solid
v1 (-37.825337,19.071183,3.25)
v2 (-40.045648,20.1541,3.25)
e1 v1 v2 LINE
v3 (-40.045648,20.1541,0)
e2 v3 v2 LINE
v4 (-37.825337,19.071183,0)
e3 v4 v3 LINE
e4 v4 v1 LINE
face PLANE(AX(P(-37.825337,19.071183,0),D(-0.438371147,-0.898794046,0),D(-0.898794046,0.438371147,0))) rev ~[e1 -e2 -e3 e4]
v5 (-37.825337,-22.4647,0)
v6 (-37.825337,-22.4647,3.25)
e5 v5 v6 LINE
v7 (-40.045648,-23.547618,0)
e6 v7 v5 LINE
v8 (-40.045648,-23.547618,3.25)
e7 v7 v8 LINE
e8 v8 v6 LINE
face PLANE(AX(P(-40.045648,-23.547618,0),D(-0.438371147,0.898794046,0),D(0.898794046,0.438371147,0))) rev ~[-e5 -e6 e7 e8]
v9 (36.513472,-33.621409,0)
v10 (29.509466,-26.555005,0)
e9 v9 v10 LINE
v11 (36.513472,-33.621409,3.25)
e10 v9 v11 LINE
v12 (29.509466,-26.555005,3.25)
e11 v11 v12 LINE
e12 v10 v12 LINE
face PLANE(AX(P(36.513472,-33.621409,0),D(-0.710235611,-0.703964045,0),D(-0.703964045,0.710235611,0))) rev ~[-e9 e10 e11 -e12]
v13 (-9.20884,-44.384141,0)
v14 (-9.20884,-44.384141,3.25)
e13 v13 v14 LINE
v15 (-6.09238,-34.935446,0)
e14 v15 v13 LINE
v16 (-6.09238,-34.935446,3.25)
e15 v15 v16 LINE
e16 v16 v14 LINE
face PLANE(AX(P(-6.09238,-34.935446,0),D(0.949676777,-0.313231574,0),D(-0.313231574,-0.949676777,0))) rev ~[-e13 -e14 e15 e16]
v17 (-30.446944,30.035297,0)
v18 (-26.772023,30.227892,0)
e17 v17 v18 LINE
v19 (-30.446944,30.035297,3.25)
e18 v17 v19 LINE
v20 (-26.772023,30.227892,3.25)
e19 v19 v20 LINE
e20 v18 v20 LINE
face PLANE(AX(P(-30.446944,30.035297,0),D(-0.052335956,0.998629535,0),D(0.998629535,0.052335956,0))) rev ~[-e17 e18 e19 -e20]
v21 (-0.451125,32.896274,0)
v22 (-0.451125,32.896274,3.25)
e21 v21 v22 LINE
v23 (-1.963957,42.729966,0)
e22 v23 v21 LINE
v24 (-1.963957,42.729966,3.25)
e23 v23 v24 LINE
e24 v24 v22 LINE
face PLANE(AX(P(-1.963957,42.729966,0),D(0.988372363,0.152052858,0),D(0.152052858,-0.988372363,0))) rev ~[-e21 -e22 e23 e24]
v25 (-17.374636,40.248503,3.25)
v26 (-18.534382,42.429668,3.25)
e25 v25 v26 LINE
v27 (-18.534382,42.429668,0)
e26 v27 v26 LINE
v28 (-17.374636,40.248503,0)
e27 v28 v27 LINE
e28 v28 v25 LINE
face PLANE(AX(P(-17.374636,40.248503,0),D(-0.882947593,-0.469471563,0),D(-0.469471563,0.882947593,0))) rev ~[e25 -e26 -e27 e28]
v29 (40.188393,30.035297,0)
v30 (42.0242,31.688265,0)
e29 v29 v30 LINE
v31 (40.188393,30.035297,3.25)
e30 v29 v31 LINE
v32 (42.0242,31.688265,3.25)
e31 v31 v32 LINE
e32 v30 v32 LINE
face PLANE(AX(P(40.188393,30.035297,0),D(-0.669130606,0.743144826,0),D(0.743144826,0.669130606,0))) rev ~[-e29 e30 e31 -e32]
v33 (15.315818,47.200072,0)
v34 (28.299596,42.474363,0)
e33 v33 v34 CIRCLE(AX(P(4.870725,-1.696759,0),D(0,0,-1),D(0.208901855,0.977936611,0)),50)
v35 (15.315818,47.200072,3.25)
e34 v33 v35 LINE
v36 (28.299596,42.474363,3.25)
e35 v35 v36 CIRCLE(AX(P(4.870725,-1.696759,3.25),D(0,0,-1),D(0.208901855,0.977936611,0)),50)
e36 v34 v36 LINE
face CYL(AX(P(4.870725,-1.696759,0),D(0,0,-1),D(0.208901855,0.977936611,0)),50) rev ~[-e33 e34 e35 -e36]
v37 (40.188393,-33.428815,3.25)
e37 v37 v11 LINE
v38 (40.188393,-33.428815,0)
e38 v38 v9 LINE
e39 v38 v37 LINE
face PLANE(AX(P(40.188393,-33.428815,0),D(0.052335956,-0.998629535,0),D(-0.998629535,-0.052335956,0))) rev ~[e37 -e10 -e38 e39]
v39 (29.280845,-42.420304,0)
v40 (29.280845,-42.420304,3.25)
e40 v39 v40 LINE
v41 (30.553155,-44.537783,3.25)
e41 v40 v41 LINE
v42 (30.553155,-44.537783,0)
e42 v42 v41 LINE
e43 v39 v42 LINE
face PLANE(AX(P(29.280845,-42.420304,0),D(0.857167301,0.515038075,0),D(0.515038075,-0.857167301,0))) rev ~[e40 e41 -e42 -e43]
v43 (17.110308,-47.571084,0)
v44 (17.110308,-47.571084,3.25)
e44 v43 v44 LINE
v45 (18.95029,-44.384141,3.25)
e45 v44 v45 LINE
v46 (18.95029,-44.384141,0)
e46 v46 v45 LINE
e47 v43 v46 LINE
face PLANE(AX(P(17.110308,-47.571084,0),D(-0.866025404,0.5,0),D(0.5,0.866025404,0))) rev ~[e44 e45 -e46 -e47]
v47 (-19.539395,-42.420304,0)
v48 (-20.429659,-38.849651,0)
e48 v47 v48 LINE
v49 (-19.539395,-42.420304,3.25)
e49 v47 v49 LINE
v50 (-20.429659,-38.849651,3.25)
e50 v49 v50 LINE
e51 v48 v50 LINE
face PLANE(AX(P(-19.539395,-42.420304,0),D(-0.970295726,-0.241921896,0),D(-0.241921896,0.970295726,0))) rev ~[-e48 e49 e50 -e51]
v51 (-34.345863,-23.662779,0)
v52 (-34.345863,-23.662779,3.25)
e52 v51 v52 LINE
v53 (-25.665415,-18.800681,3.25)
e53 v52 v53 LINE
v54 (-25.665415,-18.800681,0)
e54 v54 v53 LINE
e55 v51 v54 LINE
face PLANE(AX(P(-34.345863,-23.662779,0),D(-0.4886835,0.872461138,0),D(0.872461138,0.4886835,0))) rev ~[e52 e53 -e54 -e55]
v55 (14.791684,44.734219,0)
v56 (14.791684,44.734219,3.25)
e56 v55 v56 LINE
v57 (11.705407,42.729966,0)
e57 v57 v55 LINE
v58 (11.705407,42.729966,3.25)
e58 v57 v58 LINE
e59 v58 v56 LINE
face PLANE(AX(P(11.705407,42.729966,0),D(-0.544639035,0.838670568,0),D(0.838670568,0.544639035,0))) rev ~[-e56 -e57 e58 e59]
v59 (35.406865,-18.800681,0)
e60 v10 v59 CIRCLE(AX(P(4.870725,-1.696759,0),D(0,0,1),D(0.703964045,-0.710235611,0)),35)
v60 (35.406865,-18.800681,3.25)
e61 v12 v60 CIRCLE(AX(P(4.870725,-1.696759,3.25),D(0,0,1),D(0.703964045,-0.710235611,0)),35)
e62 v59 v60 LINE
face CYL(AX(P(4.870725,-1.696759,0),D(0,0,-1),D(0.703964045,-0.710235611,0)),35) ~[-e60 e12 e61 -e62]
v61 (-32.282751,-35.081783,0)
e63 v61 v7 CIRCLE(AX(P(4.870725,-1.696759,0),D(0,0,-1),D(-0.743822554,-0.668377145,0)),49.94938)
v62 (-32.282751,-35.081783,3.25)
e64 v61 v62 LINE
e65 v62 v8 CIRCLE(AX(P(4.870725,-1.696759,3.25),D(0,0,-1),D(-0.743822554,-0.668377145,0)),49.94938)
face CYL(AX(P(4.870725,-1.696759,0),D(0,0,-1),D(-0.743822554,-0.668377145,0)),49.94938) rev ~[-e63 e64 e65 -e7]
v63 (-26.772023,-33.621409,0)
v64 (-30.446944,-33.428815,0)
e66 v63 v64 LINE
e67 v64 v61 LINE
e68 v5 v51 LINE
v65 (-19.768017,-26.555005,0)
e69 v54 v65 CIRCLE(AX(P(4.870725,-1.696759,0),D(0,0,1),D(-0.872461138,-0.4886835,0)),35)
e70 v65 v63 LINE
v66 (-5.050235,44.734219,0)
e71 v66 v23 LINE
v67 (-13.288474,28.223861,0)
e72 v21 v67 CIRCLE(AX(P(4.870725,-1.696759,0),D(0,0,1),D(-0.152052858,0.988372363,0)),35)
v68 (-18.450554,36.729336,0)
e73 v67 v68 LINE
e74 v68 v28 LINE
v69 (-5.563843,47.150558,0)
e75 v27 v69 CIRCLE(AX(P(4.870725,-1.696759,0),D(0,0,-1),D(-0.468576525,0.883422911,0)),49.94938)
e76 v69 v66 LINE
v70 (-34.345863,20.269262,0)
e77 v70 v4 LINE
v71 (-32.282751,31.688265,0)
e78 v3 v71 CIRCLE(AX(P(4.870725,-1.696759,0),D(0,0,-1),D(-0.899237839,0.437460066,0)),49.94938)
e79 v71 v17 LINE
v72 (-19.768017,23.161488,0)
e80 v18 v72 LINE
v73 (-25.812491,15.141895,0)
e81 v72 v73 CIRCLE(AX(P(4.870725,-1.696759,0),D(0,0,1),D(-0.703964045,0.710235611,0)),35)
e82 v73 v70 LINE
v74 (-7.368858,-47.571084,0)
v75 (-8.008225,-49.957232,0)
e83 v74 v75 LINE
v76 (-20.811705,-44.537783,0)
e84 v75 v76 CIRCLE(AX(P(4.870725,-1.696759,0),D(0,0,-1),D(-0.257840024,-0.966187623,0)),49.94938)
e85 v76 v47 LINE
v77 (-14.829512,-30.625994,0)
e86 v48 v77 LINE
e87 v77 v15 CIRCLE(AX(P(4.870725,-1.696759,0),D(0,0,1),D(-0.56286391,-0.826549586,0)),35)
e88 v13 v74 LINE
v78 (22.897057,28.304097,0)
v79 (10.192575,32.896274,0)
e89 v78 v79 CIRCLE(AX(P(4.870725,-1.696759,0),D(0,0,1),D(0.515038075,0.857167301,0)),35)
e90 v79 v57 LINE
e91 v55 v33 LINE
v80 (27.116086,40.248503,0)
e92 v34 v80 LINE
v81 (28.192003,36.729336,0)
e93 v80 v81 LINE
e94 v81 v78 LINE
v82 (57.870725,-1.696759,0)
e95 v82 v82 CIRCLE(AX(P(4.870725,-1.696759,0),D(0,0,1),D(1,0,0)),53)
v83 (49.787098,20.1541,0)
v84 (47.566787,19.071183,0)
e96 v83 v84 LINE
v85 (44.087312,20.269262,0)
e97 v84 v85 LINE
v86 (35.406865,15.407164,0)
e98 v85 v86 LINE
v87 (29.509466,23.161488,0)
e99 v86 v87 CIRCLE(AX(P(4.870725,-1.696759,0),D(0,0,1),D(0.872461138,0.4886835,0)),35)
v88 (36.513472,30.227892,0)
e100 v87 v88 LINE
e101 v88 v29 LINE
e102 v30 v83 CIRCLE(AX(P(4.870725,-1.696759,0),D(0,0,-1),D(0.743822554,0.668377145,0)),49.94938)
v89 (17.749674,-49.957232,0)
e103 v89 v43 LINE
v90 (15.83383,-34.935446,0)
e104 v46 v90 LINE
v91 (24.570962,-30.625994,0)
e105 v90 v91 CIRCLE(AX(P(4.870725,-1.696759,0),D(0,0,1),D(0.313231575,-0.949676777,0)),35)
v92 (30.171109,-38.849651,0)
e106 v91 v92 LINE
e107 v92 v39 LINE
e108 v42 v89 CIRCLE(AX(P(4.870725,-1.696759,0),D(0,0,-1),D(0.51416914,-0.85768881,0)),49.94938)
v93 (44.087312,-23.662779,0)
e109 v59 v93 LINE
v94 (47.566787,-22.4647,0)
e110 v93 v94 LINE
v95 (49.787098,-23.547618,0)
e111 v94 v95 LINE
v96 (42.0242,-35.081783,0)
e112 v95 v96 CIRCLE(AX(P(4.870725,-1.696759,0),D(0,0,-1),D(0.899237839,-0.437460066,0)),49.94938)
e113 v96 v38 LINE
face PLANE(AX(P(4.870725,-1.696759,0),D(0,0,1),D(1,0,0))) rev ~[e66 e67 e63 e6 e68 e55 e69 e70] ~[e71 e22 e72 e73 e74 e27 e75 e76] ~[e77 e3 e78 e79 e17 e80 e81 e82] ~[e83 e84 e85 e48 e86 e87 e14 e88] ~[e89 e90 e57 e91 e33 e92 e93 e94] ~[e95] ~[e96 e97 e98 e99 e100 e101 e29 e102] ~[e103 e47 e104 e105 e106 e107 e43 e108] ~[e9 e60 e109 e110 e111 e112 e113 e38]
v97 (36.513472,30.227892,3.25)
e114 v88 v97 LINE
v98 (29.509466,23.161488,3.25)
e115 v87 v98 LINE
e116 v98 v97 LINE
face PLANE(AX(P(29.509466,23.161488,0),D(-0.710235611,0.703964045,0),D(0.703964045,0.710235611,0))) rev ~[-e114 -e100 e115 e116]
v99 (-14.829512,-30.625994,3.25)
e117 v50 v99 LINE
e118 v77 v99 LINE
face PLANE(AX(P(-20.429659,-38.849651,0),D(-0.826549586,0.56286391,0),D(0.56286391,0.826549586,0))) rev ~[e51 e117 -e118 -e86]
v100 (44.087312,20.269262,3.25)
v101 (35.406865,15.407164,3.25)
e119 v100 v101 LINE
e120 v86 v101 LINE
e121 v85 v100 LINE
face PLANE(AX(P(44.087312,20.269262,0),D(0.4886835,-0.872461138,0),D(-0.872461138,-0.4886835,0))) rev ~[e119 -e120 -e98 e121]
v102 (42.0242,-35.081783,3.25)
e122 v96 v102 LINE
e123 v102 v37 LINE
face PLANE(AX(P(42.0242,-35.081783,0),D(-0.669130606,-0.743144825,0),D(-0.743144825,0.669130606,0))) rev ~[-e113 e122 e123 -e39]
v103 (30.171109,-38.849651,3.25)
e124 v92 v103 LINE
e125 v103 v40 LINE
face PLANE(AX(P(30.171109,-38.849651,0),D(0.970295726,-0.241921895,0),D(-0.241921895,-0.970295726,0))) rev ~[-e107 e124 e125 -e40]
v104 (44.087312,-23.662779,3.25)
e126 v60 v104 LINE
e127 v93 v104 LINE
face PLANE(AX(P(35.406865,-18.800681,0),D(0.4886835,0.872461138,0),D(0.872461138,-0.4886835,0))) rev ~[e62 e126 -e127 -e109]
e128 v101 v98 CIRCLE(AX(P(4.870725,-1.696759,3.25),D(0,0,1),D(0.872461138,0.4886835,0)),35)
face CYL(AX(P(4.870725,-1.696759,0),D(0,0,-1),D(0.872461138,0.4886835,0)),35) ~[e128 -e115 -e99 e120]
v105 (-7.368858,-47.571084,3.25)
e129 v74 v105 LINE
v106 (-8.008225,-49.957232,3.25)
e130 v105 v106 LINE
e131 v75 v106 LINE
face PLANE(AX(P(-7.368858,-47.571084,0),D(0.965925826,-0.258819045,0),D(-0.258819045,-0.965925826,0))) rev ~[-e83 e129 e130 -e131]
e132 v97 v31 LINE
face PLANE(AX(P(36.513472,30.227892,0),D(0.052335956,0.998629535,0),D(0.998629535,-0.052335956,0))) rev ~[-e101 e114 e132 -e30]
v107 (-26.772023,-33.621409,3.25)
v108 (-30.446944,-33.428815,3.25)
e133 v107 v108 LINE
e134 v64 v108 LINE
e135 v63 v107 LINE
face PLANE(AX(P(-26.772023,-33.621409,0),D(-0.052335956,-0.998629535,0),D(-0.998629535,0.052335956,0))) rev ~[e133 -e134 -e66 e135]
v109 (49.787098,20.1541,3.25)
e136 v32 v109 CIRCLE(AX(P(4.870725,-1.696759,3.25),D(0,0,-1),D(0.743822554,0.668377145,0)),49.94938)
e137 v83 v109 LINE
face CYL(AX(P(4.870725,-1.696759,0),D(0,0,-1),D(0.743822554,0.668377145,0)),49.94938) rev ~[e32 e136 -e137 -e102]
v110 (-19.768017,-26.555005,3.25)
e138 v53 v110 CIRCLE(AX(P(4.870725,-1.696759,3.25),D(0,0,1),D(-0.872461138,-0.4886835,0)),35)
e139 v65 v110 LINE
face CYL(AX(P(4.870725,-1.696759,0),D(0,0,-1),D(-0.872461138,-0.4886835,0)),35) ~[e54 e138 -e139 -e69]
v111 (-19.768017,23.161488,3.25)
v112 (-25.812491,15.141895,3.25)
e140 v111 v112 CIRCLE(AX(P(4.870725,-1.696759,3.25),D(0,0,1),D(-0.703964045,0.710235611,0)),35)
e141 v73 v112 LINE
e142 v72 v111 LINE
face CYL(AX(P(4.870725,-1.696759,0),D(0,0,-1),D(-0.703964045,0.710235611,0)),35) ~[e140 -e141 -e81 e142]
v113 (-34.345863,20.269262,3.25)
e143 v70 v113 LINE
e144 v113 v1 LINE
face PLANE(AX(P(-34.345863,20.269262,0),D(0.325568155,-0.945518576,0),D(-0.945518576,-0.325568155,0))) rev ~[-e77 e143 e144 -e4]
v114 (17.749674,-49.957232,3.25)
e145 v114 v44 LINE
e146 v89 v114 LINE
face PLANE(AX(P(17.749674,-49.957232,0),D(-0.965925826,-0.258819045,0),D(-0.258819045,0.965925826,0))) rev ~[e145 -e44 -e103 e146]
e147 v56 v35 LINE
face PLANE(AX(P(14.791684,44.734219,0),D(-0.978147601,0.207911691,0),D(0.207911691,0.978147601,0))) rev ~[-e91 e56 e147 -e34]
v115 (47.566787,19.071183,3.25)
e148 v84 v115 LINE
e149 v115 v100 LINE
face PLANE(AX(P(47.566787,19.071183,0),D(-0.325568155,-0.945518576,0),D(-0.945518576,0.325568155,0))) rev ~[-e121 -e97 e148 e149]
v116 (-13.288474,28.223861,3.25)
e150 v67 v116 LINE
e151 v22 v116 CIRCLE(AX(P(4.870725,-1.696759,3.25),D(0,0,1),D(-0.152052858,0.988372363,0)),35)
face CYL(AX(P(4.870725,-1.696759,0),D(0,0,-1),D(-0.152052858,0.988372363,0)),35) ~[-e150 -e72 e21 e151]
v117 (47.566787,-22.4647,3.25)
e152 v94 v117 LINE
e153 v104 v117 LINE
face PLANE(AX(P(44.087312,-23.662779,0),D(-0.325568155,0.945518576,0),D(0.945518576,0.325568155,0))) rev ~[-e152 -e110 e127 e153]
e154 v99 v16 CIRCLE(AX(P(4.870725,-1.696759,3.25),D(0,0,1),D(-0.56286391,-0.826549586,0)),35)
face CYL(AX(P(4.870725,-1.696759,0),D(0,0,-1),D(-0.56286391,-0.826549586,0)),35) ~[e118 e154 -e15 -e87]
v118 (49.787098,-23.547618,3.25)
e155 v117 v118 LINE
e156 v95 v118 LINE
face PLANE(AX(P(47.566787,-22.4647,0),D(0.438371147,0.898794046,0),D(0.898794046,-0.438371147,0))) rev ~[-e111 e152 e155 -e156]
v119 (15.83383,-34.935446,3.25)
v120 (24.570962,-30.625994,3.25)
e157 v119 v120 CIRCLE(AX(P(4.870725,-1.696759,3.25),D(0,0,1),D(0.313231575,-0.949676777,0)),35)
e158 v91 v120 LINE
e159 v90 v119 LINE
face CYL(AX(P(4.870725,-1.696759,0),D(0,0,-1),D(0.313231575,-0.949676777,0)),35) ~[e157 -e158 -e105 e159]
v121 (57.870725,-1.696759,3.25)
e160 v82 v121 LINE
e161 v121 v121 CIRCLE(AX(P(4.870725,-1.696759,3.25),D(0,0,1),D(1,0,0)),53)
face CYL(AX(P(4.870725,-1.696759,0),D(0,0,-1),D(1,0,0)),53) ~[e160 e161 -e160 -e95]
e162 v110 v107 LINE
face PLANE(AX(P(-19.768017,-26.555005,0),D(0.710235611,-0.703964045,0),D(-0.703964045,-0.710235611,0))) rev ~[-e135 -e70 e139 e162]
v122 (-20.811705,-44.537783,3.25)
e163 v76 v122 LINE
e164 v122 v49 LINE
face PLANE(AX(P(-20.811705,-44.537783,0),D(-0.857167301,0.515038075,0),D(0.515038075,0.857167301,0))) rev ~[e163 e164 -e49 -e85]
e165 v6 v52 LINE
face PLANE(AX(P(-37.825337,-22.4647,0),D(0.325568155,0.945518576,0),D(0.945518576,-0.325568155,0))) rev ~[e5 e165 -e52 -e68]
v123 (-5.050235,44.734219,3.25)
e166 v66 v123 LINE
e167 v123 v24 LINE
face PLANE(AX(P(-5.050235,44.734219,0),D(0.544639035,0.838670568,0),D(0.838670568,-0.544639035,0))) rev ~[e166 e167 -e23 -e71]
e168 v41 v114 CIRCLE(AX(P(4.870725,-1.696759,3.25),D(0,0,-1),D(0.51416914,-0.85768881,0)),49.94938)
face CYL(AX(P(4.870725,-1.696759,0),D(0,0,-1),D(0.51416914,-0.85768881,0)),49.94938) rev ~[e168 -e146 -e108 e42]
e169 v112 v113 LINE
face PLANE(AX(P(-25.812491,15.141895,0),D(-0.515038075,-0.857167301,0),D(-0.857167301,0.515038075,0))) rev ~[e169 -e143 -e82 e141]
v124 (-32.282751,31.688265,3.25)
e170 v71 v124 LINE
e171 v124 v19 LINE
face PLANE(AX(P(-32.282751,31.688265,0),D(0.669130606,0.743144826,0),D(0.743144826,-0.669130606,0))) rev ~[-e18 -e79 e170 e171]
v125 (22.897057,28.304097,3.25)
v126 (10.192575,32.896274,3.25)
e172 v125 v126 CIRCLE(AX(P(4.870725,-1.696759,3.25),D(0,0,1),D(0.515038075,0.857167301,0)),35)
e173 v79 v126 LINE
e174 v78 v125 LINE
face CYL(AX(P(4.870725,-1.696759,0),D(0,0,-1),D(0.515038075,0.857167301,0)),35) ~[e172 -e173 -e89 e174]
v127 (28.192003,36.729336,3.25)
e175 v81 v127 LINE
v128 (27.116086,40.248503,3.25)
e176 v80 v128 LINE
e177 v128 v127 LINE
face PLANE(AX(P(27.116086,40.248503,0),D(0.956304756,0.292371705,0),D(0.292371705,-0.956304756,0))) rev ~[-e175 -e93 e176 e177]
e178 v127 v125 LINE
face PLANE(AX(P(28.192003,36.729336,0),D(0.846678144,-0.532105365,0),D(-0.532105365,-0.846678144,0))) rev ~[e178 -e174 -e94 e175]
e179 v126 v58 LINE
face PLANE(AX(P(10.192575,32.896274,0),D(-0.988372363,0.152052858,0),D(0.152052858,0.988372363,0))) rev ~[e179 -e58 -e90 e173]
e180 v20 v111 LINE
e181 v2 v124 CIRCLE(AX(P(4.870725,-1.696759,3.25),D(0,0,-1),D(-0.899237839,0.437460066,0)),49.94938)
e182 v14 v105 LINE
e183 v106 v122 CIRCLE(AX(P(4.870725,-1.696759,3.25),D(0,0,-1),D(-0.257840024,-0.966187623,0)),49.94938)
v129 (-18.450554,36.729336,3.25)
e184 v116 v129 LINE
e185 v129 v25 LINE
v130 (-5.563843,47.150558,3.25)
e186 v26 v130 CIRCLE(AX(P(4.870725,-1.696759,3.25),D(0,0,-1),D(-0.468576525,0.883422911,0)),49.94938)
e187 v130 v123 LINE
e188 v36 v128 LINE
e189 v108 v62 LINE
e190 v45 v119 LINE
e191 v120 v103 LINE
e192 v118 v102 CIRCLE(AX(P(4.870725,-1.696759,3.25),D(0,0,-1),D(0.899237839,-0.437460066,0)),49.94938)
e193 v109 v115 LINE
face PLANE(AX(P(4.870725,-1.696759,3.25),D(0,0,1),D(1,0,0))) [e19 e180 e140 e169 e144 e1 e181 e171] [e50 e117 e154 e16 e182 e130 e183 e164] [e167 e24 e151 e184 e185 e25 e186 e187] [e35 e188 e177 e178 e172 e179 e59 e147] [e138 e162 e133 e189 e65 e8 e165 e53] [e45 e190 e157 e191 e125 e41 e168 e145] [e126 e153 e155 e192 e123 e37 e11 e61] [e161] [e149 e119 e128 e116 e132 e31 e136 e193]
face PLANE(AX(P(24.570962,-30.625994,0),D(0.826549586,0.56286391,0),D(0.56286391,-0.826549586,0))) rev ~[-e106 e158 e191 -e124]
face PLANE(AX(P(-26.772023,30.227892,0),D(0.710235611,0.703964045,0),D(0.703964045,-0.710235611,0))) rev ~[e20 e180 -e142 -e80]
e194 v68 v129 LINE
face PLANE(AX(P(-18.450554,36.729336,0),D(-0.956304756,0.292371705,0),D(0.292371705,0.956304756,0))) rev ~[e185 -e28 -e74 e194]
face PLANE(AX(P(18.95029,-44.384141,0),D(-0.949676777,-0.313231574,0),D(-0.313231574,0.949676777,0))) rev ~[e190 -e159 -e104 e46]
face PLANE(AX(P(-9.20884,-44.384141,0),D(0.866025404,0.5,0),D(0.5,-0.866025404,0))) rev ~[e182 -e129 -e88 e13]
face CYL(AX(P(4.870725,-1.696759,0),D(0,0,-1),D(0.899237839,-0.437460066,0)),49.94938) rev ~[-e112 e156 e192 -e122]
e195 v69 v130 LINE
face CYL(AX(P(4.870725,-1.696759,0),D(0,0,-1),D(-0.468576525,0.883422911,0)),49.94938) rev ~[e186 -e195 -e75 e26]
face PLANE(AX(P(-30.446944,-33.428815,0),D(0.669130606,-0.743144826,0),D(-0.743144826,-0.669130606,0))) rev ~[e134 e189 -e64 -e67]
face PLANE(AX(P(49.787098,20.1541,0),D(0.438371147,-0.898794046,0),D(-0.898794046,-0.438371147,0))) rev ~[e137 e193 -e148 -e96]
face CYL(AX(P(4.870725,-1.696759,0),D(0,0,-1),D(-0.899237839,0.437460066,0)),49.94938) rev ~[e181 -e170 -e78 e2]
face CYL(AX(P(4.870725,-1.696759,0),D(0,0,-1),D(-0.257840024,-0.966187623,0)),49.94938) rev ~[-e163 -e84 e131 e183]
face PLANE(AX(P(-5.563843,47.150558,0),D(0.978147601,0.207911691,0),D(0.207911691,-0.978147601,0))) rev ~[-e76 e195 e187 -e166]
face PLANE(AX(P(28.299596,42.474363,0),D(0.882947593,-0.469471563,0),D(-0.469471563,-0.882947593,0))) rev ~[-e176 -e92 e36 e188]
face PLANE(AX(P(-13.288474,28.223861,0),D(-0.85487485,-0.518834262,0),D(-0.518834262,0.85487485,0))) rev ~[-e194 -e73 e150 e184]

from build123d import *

# Parameters (mm, degrees)
SKETCH1_R           = 53
BOSS_EXTRUDE2_DEPTH = 3.25


with BuildPart() as part:
    # Sketch1 → Boss-Extrude2 (new body)
    with BuildSketch(Plane.XY):
        with Locations((4.870724861, -1.696758811)):
            Circle(SKETCH1_R)
        with BuildLine():
            Line((47.566786932, -22.464700122), (49.787097659, -23.547618021))
            ThreePointArc((49.787097659, -23.547618021), (46.308922772, -29.586117847), (42.024200497, -35.081783024))
            Line((42.024200497, -35.081783024), (40.188393468, -33.42881495))
            Line((40.188393468, -33.42881495), (36.513472454, -33.621409399))
            Line((36.513472454, -33.621409399), (29.509466442, -26.555005195))
            ThreePointArc((29.509466442, -26.555005195), (32.729283137, -22.88403638), (35.406864683, -18.800681308))
            Line((35.406864683, -18.800681308), (44.08731235, -23.662779301))
            Line((44.08731235, -23.662779301), (47.566786932, -22.464700122))
        make_face(mode=Mode.SUBTRACT)
        with BuildLine():
            Line((47.566786932, 19.071182501), (44.08731235, 20.26926168))
            Line((44.08731235, 20.26926168), (35.406864683, 15.407163687))
            ThreePointArc((35.406864683, 15.407163687), (32.729283137, 19.490518759), (29.509466442, 23.161487574))
            Line((29.509466442, 23.161487574), (36.513472454, 30.227891778))
            Line((36.513472454, 30.227891778), (40.188393468, 30.035297329))
            Line((40.188393468, 30.035297329), (42.024200497, 31.688265402))
            ThreePointArc((42.024200497, 31.688265402), (46.308922772, 26.192600226), (49.787097659, 20.1541004))
            Line((49.787097659, 20.1541004), (47.566786932, 19.071182501))
        make_face(mode=Mode.SUBTRACT)
        with BuildLine():
            Line((28.299596439, 42.474362712), (27.116085982, 40.248503273))
            Line((27.116085982, 40.248503273), (28.192003411, 36.729335933))
            Line((28.192003411, 36.729335933), (22.897057483, 28.304096714))
            ThreePointArc((22.897057483, 28.304096714), (16.768473858, 31.218945174), (10.192574898, 32.896273901))
            Line((10.192574898, 32.896273901), (11.705406612, 42.729966432))
            Line((11.705406612, 42.729966432), (14.791684342, 44.734218625))
            Line((14.791684342, 44.734218625), (15.315817601, 47.200071738))
            ThreePointArc((15.315817601, 47.200071738), (21.971732028, 45.287872229), (28.299596439, 42.474362712))
        make_face(mode=Mode.SUBTRACT)
        with BuildLine():
            ThreePointArc((-18.5343822, 42.429668157), (-12.212969352, 45.240305281), (-5.563843448, 47.150558185))
            Line((-5.563843448, 47.150558185), (-5.05023462, 44.734218625))
            Line((-5.05023462, 44.734218625), (-1.963956889, 42.729966432))
            Line((-1.963956889, 42.729966432), (-0.451125175, 32.896273901))
            ThreePointArc((-0.451125175, 32.896273901), (-7.099980155, 31.192482917), (-13.288474299, 28.223860933))
            Line((-13.288474299, 28.223860933), (-18.450553688, 36.729335933))
            Line((-18.450553688, 36.729335933), (-17.374636259, 40.248503273))
            Line((-17.374636259, 40.248503273), (-18.5343822, 42.429668157))
        make_face(mode=Mode.SUBTRACT)
        with BuildLine():
            ThreePointArc((-40.045647936, 20.1541004), (-36.567473049, 26.192600226), (-32.282750775, 31.688265402))
            Line((-32.282750775, 31.688265402), (-30.446943745, 30.035297329))
            Line((-30.446943745, 30.035297329), (-26.772022731, 30.227891778))
            Line((-26.772022731, 30.227891778), (-19.76801672, 23.161487574))
            ThreePointArc((-19.76801672, 23.161487574), (-23.079377371, 19.369607397), (-25.812491143, 15.141894807))
            Line((-25.812491143, 15.141894807), (-34.345862627, 20.26926168))
            Line((-34.345862627, 20.26926168), (-37.825337209, 19.071182501))
            Line((-37.825337209, 19.071182501), (-40.045647936, 20.1541004))
        make_face(mode=Mode.SUBTRACT)
        with BuildLine():
            ThreePointArc((-32.282750775, -35.081783024), (-36.567473049, -29.586117847), (-40.045647936, -23.547618021))
            Line((-40.045647936, -23.547618021), (-37.825337209, -22.464700122))
            Line((-37.825337209, -22.464700122), (-34.345862627, -23.662779301))
            Line((-34.345862627, -23.662779301), (-25.66541496, -18.800681308))
            ThreePointArc((-25.66541496, -18.800681308), (-22.987833414, -22.88403638), (-19.76801672, -26.555005195))
            Line((-19.76801672, -26.555005195), (-26.772022731, -33.621409399))
            Line((-26.772022731, -33.621409399), (-30.446943745, -33.42881495))
            Line((-30.446943745, -33.42881495), (-32.282750775, -35.081783024))
        make_face(mode=Mode.SUBTRACT)
        with BuildLine():
            ThreePointArc((-8.008224552, -49.957231825), (-14.599447184, -47.695160892), (-20.811705065, -44.537783385))
            Line((-20.811705065, -44.537783385), (-19.539395166, -42.420304124))
            Line((-19.539395166, -42.420304124), (-20.4296591, -38.849650513))
            Line((-20.4296591, -38.849650513), (-14.829511994, -30.625994332))
            ThreePointArc((-14.829511994, -30.625994332), (-10.611619227, -33.086200053), (-6.092380244, -34.935446006))
            Line((-6.092380244, -34.935446006), (-9.208840303, -44.384141433))
            Line((-9.208840303, -44.384141433), (-7.368858164, -47.571083983))
            Line((-7.368858164, -47.571083983), (-8.008224552, -49.957231825))
        make_face(mode=Mode.SUBTRACT)
        with BuildLine():
            ThreePointArc((30.553154788, -44.537783385), (24.340896907, -47.695160892), (17.749674274, -49.957231825))
            Line((17.749674274, -49.957231825), (17.110307887, -47.571083983))
            Line((17.110307887, -47.571083983), (18.950290026, -44.384141433))
            Line((18.950290026, -44.384141433), (15.833829966, -34.935446006))
            ThreePointArc((15.833829966, -34.935446006), (20.35306895, -33.086200053), (24.570961717, -30.625994332))
            Line((24.570961717, -30.625994332), (30.171108822, -38.849650513))
            Line((30.171108822, -38.849650513), (29.280844889, -42.420304124))
            Line((29.280844889, -42.420304124), (30.553154788, -44.537783385))
        make_face(mode=Mode.SUBTRACT)
    extrude(amount=BOSS_EXTRUDE2_DEPTH)


solid = part.part
